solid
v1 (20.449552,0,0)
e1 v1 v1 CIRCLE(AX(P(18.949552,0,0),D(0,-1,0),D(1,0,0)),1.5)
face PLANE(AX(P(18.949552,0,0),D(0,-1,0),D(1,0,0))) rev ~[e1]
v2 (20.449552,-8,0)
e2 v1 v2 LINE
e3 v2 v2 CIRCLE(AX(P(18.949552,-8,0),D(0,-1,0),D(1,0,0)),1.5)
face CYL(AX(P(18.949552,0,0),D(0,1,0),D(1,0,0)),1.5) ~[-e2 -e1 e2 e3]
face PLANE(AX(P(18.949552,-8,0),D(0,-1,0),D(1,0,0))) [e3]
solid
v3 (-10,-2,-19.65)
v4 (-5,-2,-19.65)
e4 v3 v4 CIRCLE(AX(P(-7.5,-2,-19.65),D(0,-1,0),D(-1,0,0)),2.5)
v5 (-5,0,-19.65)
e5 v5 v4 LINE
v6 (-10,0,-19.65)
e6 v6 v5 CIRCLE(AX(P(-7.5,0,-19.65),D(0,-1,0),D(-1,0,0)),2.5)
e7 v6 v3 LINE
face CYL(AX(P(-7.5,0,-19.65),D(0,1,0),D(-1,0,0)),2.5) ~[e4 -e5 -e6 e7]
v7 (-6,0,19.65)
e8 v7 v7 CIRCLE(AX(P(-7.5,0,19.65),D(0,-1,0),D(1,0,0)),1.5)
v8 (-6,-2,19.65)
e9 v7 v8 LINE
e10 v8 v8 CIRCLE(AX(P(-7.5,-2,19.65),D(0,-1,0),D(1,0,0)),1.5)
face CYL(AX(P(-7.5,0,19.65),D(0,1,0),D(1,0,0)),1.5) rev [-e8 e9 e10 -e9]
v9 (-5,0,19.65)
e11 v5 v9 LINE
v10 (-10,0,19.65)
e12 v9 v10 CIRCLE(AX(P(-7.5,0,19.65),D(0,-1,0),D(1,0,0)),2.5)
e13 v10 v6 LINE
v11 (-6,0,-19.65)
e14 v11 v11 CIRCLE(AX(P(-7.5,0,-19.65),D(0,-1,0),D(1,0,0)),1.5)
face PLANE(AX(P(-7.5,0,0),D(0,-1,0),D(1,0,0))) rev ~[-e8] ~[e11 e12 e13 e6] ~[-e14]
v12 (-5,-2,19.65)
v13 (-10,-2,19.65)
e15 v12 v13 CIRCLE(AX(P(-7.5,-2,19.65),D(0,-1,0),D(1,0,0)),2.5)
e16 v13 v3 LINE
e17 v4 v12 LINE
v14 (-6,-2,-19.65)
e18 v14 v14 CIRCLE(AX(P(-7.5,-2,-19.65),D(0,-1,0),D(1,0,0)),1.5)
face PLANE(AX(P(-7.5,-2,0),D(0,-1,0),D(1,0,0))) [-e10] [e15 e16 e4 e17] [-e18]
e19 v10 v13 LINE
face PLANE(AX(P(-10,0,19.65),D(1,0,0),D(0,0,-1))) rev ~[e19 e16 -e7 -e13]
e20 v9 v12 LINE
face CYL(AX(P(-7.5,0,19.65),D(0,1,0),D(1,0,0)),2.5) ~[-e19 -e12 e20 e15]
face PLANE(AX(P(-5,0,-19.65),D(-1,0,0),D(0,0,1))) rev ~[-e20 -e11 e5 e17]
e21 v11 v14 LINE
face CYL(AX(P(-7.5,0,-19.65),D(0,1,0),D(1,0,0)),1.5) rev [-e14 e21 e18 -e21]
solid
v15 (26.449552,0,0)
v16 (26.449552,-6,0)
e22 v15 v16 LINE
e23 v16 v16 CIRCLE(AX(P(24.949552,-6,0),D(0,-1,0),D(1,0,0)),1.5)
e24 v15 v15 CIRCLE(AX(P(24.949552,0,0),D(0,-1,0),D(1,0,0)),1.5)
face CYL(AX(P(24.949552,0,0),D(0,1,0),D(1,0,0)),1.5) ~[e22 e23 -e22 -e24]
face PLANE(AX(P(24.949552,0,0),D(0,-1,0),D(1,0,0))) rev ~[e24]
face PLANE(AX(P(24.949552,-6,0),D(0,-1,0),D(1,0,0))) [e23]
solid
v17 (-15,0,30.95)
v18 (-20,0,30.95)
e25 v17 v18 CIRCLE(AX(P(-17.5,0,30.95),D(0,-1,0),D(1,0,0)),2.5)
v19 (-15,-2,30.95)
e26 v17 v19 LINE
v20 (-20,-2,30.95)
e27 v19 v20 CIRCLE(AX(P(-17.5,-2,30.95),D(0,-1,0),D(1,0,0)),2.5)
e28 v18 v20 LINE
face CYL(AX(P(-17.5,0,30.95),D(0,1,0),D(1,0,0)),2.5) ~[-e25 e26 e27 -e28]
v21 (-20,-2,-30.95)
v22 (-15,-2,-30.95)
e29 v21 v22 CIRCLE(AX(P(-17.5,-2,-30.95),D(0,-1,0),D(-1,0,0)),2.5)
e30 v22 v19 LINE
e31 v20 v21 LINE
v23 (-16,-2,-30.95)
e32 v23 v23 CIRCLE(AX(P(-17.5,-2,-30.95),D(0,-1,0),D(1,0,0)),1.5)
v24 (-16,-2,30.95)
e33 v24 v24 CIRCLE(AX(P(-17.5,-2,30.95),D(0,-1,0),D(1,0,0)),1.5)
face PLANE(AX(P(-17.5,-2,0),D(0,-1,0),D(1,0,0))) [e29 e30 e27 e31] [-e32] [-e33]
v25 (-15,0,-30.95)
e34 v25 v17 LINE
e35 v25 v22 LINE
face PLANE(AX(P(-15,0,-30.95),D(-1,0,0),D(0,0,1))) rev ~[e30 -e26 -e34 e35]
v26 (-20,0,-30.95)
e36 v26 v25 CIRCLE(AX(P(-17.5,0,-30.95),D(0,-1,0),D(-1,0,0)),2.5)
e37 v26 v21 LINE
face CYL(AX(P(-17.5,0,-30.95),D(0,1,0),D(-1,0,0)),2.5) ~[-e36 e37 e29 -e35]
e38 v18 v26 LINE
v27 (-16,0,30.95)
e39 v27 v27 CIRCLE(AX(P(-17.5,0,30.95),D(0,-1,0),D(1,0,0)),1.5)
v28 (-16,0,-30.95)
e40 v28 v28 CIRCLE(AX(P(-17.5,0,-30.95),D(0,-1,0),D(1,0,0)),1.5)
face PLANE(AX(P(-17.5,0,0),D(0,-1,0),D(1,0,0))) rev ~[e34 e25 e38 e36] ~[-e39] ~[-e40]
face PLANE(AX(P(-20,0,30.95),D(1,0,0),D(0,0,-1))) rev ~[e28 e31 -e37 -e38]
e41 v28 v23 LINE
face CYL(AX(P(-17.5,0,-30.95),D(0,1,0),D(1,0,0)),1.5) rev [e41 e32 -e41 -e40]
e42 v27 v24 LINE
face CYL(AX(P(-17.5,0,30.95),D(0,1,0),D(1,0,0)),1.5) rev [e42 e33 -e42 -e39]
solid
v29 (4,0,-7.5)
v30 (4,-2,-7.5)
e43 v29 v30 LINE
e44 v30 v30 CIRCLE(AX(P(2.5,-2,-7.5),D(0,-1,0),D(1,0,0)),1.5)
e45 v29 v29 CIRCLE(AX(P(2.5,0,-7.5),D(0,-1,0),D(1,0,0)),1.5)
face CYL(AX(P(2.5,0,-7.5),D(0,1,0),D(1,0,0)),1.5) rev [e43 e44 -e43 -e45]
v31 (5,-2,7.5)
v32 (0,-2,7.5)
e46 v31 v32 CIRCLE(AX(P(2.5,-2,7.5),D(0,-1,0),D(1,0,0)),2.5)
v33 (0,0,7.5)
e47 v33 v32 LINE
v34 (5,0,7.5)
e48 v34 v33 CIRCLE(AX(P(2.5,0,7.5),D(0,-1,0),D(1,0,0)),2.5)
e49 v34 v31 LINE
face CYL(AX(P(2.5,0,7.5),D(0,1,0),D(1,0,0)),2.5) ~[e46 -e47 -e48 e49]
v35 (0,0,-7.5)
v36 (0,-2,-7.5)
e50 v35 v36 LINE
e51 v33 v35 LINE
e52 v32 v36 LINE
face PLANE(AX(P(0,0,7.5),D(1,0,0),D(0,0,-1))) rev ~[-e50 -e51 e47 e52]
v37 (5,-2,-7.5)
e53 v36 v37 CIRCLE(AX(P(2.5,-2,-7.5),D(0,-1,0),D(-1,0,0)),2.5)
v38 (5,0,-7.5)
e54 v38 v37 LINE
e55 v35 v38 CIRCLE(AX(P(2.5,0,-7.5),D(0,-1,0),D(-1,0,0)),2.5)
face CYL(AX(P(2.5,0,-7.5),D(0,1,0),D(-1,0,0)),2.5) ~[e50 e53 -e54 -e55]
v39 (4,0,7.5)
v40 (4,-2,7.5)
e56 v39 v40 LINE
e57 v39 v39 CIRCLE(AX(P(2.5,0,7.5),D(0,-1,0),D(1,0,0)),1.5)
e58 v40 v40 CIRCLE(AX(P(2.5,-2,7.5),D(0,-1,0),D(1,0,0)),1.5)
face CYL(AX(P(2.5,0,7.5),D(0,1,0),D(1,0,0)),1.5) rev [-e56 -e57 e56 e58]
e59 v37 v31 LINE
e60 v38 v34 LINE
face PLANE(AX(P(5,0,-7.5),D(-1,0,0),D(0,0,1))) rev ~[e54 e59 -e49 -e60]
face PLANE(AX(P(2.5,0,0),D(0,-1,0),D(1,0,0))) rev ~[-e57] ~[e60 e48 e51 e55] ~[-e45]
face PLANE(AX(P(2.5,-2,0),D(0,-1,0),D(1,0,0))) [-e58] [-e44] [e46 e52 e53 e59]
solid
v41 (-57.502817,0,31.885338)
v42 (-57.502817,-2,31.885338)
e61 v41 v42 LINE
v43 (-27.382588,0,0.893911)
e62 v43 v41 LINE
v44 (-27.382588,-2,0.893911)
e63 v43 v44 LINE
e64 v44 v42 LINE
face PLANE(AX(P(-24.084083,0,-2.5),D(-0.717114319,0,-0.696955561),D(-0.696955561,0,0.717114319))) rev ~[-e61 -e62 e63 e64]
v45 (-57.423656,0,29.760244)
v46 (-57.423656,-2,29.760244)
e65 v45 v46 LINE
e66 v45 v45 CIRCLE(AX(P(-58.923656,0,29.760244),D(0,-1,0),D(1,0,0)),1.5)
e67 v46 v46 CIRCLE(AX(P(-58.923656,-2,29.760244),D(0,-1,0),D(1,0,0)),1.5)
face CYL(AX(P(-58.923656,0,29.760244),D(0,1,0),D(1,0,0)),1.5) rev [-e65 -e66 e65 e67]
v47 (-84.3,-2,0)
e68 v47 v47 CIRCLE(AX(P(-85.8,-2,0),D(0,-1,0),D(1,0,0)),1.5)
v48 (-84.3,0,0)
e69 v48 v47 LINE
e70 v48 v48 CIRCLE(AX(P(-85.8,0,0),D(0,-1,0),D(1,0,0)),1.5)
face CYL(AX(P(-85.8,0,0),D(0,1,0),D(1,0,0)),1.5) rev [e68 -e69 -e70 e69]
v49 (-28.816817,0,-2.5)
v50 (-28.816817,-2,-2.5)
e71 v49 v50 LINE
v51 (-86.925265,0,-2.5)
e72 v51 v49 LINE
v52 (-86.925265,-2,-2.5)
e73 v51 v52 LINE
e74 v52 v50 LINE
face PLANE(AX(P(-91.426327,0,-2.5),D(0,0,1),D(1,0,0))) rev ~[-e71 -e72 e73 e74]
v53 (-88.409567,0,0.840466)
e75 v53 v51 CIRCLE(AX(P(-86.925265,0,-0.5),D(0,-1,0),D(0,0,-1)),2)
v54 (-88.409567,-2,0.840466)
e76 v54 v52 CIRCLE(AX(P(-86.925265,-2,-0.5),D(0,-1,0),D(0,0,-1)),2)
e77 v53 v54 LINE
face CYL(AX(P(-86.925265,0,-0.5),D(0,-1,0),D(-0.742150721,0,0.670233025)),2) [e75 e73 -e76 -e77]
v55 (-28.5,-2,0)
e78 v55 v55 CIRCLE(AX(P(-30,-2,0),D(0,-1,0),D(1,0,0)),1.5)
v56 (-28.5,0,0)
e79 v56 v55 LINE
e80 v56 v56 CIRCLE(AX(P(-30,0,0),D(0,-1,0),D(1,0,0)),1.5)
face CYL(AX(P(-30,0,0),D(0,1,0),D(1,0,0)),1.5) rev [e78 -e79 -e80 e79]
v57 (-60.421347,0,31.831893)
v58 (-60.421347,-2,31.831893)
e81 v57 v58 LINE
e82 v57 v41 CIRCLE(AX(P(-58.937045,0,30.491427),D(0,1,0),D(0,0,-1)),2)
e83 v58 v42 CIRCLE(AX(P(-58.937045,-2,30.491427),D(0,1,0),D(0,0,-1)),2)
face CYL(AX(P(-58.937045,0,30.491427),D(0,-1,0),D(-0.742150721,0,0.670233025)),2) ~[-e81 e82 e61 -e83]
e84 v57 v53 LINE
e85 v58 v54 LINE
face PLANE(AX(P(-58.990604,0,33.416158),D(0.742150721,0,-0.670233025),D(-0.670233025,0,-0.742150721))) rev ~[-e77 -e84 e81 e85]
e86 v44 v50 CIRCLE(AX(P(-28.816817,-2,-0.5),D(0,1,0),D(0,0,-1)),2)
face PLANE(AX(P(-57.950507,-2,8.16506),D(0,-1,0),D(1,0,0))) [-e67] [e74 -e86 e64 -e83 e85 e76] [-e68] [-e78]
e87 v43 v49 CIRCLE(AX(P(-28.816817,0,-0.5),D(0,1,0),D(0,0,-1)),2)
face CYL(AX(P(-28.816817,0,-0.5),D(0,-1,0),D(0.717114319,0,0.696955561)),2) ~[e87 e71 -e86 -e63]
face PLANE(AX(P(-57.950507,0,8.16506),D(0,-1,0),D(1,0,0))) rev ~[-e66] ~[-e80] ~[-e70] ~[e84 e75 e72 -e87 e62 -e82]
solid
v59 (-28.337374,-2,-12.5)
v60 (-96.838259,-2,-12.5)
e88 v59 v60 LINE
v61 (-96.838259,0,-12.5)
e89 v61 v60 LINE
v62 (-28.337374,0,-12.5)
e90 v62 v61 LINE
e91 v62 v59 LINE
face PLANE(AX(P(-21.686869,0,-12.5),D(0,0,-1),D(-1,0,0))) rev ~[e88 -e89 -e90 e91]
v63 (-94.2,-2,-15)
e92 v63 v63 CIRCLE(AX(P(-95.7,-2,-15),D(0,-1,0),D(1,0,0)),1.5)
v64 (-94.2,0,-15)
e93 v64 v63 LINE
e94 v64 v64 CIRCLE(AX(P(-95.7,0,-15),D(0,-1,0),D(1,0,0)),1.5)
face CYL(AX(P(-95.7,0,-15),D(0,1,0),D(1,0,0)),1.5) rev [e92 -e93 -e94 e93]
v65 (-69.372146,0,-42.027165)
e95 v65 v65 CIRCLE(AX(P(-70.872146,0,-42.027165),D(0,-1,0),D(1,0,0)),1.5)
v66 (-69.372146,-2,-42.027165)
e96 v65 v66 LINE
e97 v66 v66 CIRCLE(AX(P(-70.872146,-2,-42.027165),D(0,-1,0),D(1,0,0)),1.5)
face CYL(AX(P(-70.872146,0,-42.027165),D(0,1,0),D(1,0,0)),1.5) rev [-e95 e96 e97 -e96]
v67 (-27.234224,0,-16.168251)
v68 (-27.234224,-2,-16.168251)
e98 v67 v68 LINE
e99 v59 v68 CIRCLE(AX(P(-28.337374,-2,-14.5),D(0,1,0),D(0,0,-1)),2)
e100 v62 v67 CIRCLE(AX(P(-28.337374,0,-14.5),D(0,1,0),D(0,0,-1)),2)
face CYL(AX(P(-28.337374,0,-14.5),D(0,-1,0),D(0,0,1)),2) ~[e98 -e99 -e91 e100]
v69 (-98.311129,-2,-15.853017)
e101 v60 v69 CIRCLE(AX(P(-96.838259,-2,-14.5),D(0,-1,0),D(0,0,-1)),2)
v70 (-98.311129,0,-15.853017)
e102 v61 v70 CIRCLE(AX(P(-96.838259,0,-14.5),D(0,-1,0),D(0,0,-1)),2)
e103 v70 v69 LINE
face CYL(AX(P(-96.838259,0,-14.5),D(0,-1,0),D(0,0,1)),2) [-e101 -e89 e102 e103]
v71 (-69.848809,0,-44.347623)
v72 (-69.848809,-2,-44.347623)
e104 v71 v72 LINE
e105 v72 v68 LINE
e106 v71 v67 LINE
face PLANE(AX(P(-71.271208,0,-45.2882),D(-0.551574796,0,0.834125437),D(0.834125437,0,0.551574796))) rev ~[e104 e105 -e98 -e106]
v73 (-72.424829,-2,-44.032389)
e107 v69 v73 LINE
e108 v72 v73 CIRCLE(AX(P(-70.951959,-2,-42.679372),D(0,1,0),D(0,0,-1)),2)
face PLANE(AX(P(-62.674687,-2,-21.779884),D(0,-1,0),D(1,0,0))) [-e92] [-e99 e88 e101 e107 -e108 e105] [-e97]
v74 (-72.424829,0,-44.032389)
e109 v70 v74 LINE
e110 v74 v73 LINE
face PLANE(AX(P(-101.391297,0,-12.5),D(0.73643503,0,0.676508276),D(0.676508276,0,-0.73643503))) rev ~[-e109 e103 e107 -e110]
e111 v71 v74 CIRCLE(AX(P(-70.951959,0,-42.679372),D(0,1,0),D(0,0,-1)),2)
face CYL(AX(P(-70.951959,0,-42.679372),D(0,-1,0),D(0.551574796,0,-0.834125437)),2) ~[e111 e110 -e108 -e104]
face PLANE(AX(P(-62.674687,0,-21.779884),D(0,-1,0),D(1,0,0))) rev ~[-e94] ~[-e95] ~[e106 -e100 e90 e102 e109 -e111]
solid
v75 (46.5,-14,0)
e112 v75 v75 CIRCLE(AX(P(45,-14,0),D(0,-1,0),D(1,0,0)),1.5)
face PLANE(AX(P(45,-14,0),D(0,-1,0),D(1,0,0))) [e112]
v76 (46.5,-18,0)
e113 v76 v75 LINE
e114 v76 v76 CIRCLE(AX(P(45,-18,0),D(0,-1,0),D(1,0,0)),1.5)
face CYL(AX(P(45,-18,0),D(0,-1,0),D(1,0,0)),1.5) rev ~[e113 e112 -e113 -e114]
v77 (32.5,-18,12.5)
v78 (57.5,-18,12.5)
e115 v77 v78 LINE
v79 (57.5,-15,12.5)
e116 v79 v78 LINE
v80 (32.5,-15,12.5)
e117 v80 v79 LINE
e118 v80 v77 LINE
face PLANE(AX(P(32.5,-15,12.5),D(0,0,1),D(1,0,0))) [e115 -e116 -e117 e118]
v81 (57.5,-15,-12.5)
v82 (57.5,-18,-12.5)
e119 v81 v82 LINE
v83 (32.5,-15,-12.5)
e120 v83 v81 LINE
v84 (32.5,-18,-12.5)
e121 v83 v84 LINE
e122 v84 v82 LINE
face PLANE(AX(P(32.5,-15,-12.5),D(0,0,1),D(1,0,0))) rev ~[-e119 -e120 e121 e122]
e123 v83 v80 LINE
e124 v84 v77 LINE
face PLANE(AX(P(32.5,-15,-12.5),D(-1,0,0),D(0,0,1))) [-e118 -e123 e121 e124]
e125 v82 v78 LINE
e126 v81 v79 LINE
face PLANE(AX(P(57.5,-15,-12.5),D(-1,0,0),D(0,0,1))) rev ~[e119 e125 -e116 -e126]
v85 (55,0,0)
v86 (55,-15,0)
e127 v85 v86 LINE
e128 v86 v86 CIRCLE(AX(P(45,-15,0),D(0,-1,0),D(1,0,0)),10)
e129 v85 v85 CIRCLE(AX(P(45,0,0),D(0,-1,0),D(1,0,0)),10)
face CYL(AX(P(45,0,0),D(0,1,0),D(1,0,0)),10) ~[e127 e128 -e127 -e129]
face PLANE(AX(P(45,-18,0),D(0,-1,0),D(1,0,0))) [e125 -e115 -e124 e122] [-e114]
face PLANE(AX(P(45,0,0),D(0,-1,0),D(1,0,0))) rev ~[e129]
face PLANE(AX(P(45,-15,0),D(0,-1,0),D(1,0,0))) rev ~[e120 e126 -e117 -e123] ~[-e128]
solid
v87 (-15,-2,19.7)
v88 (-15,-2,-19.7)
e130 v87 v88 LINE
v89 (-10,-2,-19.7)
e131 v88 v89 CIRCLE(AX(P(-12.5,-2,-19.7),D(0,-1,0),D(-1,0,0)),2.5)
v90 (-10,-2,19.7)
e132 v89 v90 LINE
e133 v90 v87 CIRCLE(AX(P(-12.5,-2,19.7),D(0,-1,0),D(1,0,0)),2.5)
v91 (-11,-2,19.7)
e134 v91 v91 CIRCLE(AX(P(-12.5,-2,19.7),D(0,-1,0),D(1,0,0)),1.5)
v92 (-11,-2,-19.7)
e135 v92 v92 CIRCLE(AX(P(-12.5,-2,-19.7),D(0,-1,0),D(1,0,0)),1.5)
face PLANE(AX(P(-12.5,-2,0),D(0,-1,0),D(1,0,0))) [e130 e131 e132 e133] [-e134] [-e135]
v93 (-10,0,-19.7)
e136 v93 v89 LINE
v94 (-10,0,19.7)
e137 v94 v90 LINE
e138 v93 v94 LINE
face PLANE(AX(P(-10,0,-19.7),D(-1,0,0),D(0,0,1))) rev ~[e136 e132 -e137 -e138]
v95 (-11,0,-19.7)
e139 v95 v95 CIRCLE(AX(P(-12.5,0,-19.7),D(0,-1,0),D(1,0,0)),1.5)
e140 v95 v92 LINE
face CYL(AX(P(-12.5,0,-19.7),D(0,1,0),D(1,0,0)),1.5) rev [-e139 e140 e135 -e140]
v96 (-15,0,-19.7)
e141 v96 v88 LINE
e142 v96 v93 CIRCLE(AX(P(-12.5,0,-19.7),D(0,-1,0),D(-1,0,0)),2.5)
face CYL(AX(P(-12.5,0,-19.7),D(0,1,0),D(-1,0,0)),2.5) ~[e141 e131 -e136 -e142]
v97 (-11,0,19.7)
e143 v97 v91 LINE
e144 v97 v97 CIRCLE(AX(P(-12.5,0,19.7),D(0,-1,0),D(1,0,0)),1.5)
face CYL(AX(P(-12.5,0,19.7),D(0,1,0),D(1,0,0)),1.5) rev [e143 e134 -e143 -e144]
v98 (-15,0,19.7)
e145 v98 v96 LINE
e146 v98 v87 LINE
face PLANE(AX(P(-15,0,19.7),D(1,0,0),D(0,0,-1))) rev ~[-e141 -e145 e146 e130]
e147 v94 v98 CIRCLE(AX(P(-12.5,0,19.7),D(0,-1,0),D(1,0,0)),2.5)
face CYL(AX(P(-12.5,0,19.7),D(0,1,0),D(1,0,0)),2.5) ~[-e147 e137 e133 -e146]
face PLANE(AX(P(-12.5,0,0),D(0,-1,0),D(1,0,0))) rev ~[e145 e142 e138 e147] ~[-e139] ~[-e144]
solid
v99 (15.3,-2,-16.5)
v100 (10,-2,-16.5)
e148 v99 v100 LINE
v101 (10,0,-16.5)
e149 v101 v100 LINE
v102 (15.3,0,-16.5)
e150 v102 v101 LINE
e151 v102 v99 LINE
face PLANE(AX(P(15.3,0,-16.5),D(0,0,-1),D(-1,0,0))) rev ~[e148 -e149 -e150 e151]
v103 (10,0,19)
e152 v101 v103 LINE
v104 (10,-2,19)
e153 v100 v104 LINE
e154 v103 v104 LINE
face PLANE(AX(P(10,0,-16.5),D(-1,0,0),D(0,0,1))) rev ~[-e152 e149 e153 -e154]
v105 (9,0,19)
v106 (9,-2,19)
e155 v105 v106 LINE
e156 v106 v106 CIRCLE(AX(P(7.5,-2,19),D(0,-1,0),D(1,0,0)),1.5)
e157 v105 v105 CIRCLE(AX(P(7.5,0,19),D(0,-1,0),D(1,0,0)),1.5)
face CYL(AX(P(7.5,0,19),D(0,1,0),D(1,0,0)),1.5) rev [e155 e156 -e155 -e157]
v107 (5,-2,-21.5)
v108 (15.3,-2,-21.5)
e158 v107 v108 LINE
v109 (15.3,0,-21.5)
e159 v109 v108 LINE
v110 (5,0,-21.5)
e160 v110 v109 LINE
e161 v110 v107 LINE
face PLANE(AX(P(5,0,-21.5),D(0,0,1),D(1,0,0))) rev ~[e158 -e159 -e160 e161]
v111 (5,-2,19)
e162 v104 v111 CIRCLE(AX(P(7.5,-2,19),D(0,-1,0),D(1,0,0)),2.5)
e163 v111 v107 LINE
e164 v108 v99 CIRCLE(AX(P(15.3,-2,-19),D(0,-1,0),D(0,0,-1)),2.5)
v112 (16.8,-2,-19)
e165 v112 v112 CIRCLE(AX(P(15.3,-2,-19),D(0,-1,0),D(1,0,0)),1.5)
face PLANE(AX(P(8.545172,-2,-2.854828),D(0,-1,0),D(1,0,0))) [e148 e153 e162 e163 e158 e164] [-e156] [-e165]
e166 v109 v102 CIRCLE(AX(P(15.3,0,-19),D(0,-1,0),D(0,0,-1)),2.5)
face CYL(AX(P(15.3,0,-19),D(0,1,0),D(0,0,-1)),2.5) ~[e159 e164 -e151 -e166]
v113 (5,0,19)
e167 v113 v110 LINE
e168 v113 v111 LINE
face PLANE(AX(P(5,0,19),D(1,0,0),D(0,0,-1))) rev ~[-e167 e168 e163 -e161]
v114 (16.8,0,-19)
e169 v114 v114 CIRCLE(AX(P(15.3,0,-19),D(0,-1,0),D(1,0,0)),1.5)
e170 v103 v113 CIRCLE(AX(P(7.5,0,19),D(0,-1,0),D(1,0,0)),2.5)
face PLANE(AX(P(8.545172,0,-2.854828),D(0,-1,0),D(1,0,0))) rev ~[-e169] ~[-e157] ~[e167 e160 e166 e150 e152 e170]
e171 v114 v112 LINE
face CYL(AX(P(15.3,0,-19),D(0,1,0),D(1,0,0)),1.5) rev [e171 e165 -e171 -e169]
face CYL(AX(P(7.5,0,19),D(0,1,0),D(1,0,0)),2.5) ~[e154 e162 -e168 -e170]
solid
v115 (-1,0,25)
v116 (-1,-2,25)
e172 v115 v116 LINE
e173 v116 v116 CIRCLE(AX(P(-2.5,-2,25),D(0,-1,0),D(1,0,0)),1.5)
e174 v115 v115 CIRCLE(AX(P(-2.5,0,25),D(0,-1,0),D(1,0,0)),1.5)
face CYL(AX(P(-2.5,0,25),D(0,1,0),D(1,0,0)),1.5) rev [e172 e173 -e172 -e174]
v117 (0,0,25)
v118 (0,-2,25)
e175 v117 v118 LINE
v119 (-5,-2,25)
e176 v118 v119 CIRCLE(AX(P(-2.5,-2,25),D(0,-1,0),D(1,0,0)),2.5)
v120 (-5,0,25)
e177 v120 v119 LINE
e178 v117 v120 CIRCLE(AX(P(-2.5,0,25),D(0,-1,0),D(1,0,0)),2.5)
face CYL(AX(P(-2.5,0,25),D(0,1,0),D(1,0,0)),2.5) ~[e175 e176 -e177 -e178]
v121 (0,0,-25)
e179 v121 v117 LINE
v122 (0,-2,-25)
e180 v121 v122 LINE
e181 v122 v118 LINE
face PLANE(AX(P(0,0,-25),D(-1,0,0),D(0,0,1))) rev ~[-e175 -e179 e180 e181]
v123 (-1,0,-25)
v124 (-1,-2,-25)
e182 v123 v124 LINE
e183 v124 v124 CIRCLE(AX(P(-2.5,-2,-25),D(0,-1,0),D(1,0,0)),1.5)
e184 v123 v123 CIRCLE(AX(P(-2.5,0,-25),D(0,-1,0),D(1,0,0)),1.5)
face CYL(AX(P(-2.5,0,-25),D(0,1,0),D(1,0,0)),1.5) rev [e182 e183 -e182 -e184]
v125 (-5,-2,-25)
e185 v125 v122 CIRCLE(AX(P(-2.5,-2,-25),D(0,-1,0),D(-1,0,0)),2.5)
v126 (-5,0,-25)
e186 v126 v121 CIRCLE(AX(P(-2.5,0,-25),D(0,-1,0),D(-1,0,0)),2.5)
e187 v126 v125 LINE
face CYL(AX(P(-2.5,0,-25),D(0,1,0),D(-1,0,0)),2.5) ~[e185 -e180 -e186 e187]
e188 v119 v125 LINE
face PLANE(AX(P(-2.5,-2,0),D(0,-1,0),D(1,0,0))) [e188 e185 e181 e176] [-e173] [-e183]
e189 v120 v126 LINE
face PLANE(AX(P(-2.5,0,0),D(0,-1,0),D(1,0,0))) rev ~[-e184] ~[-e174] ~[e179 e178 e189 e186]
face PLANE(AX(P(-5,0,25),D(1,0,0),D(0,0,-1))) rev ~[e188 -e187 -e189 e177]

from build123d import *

# Parameters (mm, degrees)
F0_R      = 1.5
F1_DEPTH  = 2
F2_R      = 1.5
F3_DEPTH  = 2
F4_R      = 1.5
F5_DEPTH  = 2
F6_R      = 1.5
F7_DEPTH  = 2
F8_R      = 1.5
F9_DEPTH  = 2
F10_R     = 1.5
F11_DEPTH = 2
F12_R     = 2
F13_R     = 1.5
F14_DEPTH = 2
F15_R     = 2
F16_R     = 1.5
F17_DEPTH = 2
F18_R     = 1.5
F19_DEPTH = 6
F20_R     = 10
F21_DEPTH = 15
F22_W     = 25
F22_H     = 25
F22_R     = 10
F23_DEPTH = 3
F24_R     = 1.5
F25_DEPTH = 4
F26_R     = 1.5
F27_DEPTH = 8


with BuildPart() as f1:
    # F0 (on Front) → F1 (new body)
    with BuildSketch(Plane.XZ):
        with BuildLine():
            ThreePointArc((5, 7.5), (2.5, 10), (0, 7.5))
            Line((0, 7.5), (0, -7.5))
            ThreePointArc((0, -7.5), (2.5, -10), (5, -7.5))
            Line((5, -7.5), (5, 7.5))
        make_face()
        with Locations((2.5, -7.5)):
            Circle(F0_R, mode=Mode.SUBTRACT)
        with Locations((2.5, 7.5)):
            Circle(F0_R, mode=Mode.SUBTRACT)
    extrude(amount=F1_DEPTH)


with BuildPart() as f3:
    # F2 (on Front) → F3 (new body)
    with BuildSketch(Plane.XZ):
        with BuildLine():
            Line((0, -25), (0, 25))
            ThreePointArc((0, 25), (-2.5, 27.5), (-5, 25))
            Line((-5, 25), (-5, -25))
            ThreePointArc((-5, -25), (-2.5, -27.5), (0, -25))
        make_face()
        with Locations((-2.5, -25)):
            Circle(F2_R, mode=Mode.SUBTRACT)
        with Locations((-2.5, 25)):
            Circle(F2_R, mode=Mode.SUBTRACT)
    extrude(amount=F3_DEPTH)


with BuildPart() as f5:
    # F4 (on Front) → F5 (new body)
    with BuildSketch(Plane.XZ):
        with BuildLine():
            Line((-5, -19.65), (-5, 19.65))
            ThreePointArc((-5, 19.65), (-7.5, 22.15), (-10, 19.65))
            Line((-10, 19.65), (-10, -19.65))
            ThreePointArc((-10, -19.65), (-7.5, -22.15), (-5, -19.65))
        make_face()
        with Locations((-7.5, -19.65)):
            Circle(F4_R, mode=Mode.SUBTRACT)
        with Locations((-7.5, 19.65)):
            Circle(F4_R, mode=Mode.SUBTRACT)
    extrude(amount=F5_DEPTH)


with BuildPart() as f7:
    # F6 (on Front) → F7 (new body)
    with BuildSketch(Plane.XZ):
        with BuildLine():
            Line((-10, -19.7), (-10, 19.7))
            ThreePointArc((-10, 19.7), (-12.5, 22.2), (-15, 19.7))
            Line((-15, 19.7), (-15, -19.7))
            ThreePointArc((-15, -19.7), (-12.5, -22.2), (-10, -19.7))
        make_face()
        with Locations((-12.5, -19.7)):
            Circle(F6_R, mode=Mode.SUBTRACT)
        with Locations((-12.5, 19.7)):
            Circle(F6_R, mode=Mode.SUBTRACT)
    extrude(amount=F7_DEPTH)


with BuildPart() as f9:
    # F8 (on Front) → F9 (new body)
    with BuildSketch(Plane.XZ):
        with BuildLine():
            ThreePointArc((-15, 30.95), (-17.5, 33.45), (-20, 30.95))
            Line((-20, 30.95), (-20, -30.95))
            ThreePointArc((-20, -30.95), (-17.5, -33.45), (-15, -30.95))
            Line((-15, -30.95), (-15, 30.95))
        make_face()
        with Locations((-17.5, -30.95)):
            Circle(F8_R, mode=Mode.SUBTRACT)
        with Locations((-17.5, 30.95)):
            Circle(F8_R, mode=Mode.SUBTRACT)
    extrude(amount=F9_DEPTH)


with BuildPart() as f11:
    # F10 (on Front) → F11 (new body)
    with BuildSketch(Plane.XZ):
        Polygon((-58.990604, 33.416158), (-91.426327, -2.5), (-24.084083, -2.5), align=None)
        with Locations((-85.8, 0)):
            Circle(F10_R, mode=Mode.SUBTRACT)
        with Locations((-30, 0)):
            Circle(F10_R, mode=Mode.SUBTRACT)
        with Locations((-58.923656, 29.760244)):
            Circle(F10_R, mode=Mode.SUBTRACT)
    extrude(amount=F11_DEPTH)

    # F12
    f12_edges = [f11.edges().sort_by_distance(p)[0] for p in [
        (-91.426327, -1, -2.5),
        (-24.084083, -1, -2.5),
        (-58.990604, -1, 33.416158),
    ]]
    fillet(f12_edges, radius=F12_R)


with BuildPart() as f14:
    # F13 (on Front) → F14 (new body)
    with BuildSketch(Plane.XZ):
        Polygon((-21.686869, -12.5), (-101.391297, -12.5), (-71.271208, -45.2882), align=None)
        with Locations((-70.872146, -42.027165)):
            Circle(F13_R, mode=Mode.SUBTRACT)
        with Locations((-95.7, -15)):
            Circle(F13_R, mode=Mode.SUBTRACT)
    extrude(amount=F14_DEPTH)

    # F15
    f15_edges = [f14.edges().sort_by_distance(p)[0] for p in [
        (-101.391297, -1, -12.5),
        (-71.271208, -1, -45.2882),
        (-21.686869, -1, -12.5),
    ]]
    fillet(f15_edges, radius=F15_R)


with BuildPart() as f17:
    # F16 (on Front) → F17 (new body)
    with BuildSketch(Plane.XZ):
        with BuildLine():
            Line((10, -16.5), (10, 19))
            ThreePointArc((10, 19), (7.5, 21.5), (5, 19))
            Line((5, 19), (5, -21.5))
            Line((5, -21.5), (15.3, -21.5))
            ThreePointArc((15.3, -21.5), (17.8, -19), (15.3, -16.5))
            Line((15.3, -16.5), (10, -16.5))
        make_face()
        with Locations((15.3, -19)):
            Circle(F16_R, mode=Mode.SUBTRACT)
        with Locations((7.5, 19)):
            Circle(F16_R, mode=Mode.SUBTRACT)
    extrude(amount=F17_DEPTH)


with BuildPart() as f19:
    # F18 (on Front) → F19 (new body)
    with BuildSketch(Plane.XZ):
        with Locations((24.949552, 0)):
            Circle(F18_R)
    extrude(amount=F19_DEPTH)


with BuildPart() as f21:
    # F20 (on Front) → F21 (new body)
    with BuildSketch(Plane.XZ):
        with Locations((45, 0)):
            Circle(F20_R)
    extrude(amount=F21_DEPTH)

    # F22 (on face) → F23 (join)
    with BuildSketch(Plane.XZ.offset(15)):
        with Locations((45, 0)):
            Rectangle(F22_W, F22_H)
        with Locations((45, 0)):
            Circle(F22_R, mode=Mode.SUBTRACT)
        with Locations((45, 0)):
            Circle(F22_R)
    extrude(amount=F23_DEPTH)

    # F24 (on face) → F25 (cut)
    with BuildSketch(Plane.XZ.offset(18)):
        with Locations((45, 0)):
            Circle(F24_R)
    extrude(amount=-F25_DEPTH, mode=Mode.SUBTRACT)


with BuildPart() as f27:
    # F26 (on Front) → F27 (new body)
    with BuildSketch(Plane.XZ):
        with Locations((18.949552, 0)):
            Circle(F26_R)
    extrude(amount=F27_DEPTH)


solid = Compound([f1.part, f3.part, f5.part, f7.part, f9.part, f11.part, f14.part, f17.part, f19.part, f21.part, f27.part])
